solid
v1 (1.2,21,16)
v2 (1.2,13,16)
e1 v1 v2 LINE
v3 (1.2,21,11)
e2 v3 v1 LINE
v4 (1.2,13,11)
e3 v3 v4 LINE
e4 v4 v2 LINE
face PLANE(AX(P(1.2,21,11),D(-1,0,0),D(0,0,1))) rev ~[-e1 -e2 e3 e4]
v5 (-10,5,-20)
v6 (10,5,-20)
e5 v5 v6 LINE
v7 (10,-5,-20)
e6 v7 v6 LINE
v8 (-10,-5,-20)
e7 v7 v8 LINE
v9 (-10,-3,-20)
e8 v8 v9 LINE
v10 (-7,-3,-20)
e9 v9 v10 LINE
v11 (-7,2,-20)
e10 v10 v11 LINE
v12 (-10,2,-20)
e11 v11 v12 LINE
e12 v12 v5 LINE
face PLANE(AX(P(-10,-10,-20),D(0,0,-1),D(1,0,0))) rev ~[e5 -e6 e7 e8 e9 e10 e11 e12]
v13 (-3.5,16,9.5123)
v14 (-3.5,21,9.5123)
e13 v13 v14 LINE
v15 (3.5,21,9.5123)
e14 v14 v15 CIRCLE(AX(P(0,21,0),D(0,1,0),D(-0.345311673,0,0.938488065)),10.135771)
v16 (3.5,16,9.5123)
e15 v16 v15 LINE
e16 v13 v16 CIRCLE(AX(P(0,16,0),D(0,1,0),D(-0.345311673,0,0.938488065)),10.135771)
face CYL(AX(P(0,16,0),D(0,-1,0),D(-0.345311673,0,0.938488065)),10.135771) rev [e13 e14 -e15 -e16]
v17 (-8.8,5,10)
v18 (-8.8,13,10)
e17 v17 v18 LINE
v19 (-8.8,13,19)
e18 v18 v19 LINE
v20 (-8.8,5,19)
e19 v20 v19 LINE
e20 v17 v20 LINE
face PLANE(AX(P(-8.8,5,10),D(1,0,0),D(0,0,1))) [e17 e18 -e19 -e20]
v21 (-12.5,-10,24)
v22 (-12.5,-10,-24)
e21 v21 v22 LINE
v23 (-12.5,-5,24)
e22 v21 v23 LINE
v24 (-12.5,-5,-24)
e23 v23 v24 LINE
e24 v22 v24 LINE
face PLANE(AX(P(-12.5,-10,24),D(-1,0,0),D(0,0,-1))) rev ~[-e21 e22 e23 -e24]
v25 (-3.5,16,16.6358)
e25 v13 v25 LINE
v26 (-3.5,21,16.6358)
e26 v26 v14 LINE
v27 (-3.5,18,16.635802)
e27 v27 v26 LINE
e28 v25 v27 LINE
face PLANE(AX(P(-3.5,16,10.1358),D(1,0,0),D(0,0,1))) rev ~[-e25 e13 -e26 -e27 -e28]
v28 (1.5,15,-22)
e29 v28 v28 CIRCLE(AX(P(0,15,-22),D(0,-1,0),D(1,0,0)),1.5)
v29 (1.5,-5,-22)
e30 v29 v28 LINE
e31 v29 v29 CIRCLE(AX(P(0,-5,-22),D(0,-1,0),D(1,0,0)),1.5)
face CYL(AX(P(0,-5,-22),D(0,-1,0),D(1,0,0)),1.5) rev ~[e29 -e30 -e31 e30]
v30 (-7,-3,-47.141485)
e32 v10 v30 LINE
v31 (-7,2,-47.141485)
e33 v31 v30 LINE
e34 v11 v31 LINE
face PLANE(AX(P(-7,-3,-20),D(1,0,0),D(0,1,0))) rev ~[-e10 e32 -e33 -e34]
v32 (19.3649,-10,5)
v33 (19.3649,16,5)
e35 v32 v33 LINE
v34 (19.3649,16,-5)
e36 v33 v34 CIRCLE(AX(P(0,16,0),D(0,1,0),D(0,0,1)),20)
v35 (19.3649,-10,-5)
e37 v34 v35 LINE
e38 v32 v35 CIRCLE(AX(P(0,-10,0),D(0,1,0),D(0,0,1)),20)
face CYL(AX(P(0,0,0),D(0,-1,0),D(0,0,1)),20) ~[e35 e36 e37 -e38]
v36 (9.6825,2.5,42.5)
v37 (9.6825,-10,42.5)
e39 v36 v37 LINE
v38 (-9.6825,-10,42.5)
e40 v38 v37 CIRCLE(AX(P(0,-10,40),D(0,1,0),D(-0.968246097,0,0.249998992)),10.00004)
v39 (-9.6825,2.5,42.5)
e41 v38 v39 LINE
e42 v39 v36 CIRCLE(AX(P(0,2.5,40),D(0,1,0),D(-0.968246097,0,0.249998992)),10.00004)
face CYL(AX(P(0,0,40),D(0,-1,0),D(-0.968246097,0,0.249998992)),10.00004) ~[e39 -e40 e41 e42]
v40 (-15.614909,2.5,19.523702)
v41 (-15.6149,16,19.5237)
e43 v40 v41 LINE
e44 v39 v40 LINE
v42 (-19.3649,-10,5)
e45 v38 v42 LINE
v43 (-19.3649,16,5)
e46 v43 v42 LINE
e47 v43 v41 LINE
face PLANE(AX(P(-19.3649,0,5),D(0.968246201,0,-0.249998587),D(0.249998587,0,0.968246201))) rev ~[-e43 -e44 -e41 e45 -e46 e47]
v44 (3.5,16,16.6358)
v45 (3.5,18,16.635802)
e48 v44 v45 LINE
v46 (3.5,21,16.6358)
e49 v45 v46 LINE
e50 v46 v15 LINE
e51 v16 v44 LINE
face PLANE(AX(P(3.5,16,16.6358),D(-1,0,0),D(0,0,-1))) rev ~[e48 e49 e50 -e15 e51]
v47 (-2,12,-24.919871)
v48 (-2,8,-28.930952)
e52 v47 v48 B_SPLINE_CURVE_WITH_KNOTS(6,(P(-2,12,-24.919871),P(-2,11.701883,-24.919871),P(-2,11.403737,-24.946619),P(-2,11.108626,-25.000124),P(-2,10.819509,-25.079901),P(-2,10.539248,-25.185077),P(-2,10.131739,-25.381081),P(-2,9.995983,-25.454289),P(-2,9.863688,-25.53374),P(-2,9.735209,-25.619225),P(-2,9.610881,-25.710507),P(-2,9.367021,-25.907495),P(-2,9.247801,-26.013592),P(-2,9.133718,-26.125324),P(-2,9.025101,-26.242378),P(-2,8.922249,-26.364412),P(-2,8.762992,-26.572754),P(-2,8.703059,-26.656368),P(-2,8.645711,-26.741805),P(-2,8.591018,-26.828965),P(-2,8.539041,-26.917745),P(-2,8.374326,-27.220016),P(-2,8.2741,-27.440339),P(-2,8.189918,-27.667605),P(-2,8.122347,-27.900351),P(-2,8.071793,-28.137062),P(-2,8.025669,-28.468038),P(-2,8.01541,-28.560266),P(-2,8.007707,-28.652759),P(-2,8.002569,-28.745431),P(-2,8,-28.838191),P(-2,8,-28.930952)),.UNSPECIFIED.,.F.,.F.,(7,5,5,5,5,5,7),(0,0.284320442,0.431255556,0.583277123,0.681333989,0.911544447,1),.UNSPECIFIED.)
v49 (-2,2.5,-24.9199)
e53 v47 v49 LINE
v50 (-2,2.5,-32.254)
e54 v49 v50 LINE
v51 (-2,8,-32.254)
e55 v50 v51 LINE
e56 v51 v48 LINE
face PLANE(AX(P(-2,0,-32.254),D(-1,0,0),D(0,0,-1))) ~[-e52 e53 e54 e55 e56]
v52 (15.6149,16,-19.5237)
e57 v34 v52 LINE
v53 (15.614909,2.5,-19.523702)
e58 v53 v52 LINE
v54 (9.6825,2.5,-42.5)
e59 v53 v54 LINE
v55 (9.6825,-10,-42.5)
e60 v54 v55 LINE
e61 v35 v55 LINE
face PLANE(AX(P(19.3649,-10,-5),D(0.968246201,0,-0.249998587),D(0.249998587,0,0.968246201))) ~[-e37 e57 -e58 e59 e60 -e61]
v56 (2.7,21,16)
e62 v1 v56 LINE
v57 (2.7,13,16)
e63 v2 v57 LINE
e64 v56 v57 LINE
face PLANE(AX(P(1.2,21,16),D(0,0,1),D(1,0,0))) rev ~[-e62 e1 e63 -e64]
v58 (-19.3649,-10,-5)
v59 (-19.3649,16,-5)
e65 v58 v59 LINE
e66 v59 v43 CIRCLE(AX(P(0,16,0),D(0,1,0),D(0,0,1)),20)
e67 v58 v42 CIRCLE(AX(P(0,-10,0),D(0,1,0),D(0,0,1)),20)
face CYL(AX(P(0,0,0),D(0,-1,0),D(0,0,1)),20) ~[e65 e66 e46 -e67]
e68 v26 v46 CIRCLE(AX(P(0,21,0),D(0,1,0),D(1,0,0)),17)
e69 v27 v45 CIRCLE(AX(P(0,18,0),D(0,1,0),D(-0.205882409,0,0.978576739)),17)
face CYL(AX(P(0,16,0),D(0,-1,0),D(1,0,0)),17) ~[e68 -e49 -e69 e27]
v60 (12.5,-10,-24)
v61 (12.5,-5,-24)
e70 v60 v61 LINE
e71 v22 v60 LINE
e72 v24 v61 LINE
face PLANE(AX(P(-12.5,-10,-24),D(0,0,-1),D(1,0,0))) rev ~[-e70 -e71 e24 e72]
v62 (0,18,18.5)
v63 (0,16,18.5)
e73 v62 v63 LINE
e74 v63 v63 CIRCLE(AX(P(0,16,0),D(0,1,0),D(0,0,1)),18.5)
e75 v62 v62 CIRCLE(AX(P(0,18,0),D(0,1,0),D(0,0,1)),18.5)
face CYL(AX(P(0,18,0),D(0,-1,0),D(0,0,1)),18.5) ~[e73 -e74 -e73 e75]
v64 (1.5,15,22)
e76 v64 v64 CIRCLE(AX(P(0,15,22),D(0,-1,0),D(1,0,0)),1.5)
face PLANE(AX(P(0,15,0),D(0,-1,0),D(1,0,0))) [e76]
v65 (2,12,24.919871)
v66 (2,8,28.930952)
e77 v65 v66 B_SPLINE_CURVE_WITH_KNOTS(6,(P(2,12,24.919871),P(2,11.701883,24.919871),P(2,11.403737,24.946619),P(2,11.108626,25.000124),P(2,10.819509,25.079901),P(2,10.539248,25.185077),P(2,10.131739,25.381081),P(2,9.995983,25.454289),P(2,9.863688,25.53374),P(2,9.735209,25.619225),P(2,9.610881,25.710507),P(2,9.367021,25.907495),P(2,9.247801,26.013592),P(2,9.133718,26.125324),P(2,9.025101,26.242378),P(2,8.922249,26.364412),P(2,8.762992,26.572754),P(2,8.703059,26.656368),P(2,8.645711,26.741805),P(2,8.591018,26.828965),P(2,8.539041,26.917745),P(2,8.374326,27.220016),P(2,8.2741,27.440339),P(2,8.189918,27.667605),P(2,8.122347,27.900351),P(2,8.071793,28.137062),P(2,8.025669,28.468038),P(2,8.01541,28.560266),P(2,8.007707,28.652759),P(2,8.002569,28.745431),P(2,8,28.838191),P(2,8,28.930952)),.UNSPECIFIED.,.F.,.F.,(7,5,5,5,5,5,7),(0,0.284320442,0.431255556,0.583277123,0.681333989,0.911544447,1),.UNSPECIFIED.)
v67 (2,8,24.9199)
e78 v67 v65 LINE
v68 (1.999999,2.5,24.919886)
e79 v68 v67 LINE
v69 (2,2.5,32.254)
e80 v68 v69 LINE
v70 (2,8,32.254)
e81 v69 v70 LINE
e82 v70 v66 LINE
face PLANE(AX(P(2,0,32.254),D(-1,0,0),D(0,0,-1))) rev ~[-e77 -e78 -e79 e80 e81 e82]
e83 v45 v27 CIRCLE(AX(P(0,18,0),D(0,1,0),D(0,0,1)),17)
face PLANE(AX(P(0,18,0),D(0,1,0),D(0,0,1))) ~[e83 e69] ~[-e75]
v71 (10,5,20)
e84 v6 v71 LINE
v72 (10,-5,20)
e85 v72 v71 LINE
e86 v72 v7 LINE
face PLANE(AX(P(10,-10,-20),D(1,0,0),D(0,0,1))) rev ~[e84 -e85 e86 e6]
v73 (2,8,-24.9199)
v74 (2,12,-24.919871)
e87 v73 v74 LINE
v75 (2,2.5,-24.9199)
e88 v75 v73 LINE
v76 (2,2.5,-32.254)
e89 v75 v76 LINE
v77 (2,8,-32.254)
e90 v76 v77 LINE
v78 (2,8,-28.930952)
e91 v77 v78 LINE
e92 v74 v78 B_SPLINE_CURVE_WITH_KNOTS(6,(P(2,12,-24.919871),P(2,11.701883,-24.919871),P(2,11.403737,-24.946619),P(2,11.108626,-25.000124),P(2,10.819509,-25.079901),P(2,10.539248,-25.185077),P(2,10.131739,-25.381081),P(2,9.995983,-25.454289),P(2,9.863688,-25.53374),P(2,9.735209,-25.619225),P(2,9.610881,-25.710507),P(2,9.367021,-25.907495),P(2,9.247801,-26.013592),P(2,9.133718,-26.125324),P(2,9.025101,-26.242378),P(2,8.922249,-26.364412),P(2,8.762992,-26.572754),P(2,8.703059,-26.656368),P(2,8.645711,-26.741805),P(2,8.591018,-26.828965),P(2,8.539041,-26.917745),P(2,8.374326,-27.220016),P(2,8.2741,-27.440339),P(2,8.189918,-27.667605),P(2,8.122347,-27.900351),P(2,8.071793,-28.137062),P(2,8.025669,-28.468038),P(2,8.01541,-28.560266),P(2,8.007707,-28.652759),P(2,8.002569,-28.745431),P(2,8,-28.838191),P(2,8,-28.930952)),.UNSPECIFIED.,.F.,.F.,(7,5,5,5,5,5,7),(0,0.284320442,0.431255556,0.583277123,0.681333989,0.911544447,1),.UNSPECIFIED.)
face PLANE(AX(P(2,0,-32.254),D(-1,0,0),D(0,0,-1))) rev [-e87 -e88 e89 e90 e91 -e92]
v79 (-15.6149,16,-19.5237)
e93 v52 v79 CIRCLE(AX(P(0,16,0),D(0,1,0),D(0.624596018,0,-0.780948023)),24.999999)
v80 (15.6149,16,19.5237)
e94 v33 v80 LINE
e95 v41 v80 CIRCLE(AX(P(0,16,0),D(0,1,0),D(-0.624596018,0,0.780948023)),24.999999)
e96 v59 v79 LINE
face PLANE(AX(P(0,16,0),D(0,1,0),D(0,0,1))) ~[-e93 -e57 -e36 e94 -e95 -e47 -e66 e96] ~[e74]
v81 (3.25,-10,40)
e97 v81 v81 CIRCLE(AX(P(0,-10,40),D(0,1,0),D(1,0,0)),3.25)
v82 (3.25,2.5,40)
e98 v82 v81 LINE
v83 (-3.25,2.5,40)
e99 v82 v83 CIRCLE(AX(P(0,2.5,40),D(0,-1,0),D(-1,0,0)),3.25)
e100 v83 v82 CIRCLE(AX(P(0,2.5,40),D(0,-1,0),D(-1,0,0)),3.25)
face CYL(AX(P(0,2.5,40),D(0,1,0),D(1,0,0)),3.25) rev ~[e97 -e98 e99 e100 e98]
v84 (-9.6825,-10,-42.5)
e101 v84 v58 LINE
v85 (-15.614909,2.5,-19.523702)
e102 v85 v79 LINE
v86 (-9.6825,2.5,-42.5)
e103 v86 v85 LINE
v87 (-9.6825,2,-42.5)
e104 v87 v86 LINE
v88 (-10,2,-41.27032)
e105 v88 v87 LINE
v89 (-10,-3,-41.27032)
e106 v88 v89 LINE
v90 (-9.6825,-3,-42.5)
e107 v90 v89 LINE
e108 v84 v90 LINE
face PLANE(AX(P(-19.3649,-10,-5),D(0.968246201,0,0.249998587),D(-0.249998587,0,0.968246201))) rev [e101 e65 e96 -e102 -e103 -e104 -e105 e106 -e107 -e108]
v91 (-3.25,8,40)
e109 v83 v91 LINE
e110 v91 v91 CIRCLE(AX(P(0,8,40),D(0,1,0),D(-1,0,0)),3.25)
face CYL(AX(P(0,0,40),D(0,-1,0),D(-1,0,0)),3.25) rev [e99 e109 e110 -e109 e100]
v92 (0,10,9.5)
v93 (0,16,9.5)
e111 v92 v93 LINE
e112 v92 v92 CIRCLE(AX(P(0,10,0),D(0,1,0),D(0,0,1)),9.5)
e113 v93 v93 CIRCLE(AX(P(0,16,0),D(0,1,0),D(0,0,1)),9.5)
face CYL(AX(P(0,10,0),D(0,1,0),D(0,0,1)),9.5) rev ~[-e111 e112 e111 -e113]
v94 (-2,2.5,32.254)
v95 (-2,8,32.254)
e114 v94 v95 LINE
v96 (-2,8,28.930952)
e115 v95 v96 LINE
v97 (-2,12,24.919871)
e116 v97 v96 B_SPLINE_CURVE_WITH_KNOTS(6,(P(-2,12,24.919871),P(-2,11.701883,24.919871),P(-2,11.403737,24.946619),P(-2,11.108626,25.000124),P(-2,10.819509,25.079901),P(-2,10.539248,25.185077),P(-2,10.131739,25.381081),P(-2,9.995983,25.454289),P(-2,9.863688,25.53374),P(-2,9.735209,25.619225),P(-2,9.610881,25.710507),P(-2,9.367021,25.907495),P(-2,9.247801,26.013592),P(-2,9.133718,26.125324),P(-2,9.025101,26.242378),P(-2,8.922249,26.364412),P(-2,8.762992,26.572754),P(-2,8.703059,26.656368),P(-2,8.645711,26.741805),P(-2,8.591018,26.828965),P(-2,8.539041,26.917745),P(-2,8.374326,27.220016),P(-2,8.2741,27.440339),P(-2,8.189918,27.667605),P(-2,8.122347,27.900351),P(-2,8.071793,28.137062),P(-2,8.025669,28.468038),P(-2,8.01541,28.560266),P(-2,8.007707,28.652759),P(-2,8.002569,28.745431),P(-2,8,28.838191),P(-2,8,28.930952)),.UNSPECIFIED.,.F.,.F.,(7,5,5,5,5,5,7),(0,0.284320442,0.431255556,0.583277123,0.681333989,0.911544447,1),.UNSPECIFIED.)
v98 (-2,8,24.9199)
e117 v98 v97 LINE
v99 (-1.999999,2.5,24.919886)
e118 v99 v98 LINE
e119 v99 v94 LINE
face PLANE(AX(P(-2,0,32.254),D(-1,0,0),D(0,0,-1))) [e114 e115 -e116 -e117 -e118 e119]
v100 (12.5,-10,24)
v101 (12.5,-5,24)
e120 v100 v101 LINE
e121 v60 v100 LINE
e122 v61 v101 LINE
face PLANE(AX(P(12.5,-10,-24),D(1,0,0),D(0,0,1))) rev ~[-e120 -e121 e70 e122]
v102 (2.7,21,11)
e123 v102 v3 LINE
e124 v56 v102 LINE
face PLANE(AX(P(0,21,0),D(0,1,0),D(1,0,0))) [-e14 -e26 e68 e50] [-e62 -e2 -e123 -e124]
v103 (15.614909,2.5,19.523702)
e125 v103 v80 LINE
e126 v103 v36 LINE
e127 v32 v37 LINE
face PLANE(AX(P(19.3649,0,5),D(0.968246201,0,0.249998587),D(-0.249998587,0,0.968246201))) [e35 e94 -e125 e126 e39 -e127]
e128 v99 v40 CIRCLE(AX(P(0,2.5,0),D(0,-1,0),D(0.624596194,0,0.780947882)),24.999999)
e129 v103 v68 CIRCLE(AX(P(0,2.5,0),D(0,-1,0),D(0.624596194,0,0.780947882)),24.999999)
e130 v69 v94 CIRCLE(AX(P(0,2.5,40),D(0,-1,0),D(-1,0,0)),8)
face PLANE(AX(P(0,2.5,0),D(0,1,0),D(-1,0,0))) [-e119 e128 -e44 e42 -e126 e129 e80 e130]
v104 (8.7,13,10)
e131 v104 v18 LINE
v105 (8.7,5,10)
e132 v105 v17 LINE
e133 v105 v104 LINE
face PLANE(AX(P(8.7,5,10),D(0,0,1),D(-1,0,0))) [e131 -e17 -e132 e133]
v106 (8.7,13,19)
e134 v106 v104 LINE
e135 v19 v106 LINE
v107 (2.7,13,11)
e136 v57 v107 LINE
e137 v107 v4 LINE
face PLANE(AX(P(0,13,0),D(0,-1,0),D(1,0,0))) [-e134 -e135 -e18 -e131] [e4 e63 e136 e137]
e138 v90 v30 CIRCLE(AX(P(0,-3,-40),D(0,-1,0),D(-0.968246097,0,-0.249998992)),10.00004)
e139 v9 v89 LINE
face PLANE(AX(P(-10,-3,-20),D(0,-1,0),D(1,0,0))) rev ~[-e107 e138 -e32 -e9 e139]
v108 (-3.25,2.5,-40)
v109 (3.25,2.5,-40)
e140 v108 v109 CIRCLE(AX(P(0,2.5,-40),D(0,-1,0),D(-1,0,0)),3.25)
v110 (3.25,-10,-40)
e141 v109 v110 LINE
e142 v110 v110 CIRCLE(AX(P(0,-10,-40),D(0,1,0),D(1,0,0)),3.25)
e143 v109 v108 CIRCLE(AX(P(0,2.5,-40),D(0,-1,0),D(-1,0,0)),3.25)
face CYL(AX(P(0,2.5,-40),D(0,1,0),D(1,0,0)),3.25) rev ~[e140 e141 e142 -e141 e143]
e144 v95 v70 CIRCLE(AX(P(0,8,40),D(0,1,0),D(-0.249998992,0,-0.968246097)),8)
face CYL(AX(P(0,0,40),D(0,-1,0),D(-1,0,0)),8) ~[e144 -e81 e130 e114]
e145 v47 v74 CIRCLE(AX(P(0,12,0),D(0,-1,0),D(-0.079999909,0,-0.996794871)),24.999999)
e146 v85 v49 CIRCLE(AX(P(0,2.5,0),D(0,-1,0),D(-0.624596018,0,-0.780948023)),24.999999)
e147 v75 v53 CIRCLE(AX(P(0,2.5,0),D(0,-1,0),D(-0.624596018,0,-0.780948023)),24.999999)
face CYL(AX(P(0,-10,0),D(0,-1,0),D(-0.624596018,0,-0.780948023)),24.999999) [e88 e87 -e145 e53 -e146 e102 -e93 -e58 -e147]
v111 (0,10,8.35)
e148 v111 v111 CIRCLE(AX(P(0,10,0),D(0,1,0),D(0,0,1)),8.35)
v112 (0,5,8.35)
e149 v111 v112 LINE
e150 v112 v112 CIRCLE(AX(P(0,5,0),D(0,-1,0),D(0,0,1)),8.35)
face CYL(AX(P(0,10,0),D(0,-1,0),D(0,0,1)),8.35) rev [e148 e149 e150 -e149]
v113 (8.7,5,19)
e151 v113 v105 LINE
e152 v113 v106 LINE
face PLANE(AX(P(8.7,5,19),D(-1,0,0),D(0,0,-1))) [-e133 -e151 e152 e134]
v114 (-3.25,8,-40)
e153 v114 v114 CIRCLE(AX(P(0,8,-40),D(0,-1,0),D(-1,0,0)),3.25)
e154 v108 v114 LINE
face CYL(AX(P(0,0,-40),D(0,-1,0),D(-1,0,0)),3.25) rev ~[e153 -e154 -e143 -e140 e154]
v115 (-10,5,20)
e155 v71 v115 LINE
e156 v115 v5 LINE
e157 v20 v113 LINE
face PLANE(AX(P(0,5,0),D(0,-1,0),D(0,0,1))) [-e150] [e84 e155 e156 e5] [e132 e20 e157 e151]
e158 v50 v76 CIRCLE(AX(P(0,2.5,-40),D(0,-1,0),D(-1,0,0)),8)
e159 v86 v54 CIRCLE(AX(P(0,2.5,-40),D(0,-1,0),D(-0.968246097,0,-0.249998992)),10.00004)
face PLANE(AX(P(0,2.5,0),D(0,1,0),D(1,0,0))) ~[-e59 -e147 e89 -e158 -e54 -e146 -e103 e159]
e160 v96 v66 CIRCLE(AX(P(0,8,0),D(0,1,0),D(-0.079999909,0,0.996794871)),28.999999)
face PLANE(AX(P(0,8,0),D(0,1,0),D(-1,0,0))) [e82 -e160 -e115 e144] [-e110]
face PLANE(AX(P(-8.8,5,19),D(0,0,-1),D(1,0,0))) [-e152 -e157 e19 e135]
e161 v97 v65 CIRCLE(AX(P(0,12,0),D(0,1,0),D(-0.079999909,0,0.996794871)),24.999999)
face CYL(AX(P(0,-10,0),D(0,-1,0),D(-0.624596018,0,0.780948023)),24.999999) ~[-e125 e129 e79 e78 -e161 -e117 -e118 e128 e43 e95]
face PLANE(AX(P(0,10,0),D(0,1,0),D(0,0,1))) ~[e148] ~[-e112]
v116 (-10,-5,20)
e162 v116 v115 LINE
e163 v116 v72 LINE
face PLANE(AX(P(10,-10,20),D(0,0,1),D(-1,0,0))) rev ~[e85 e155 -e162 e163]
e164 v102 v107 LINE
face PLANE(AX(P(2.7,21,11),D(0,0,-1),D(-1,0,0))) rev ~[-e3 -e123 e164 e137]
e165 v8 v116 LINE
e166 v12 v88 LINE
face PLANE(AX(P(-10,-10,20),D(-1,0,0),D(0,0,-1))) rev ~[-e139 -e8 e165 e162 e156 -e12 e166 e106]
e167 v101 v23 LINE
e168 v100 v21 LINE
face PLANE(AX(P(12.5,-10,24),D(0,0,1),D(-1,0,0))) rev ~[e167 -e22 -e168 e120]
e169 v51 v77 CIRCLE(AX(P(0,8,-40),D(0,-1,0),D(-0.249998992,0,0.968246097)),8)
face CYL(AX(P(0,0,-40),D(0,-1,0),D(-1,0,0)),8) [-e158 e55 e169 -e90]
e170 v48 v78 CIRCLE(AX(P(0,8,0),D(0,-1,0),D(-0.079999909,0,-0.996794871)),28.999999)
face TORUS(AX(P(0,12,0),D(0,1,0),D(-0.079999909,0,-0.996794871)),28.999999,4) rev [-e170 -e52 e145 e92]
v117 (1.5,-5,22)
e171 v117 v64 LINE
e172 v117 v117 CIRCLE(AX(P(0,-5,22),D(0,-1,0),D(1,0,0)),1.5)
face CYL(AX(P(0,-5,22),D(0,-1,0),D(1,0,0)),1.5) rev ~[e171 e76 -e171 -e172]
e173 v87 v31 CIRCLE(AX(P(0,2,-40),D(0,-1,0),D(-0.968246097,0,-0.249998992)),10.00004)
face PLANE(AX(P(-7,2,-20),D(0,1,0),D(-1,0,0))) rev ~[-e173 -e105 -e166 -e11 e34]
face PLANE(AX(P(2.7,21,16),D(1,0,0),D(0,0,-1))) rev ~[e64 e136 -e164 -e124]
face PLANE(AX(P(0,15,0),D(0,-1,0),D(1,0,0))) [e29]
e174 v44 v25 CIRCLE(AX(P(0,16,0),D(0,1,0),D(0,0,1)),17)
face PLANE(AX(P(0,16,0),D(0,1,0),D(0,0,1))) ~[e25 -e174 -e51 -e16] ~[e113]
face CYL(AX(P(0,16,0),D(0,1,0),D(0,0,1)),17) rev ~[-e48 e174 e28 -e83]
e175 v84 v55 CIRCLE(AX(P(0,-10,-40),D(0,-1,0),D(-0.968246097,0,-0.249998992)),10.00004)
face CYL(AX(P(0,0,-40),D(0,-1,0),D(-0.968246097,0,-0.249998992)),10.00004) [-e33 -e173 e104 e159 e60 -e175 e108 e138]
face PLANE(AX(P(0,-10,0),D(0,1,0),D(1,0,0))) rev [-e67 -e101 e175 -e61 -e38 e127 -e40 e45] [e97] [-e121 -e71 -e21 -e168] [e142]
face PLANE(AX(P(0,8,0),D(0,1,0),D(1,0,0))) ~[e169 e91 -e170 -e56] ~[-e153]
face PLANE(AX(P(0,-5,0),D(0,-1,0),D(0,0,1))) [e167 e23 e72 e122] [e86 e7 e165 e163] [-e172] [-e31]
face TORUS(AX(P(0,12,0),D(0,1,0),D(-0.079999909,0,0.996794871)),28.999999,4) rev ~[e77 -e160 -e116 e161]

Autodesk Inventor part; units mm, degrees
ref_plane "YZ Plane" through (0, 0, 0) normal (1, 0, 0) x (0, 1, 0)
ref_plane "XZ Plane" through (0, 0, 0) normal (0, 1, 0) x (-1, 0, 0)
ref_plane "XY Plane" through (0, 0, 0) normal (0, 0, 1) x (1, 0, 0)
sketch "Sketch1" plane through (0, 0, 0) normal (1, 0, 0) x (0, 1, 0)
  line L0 (121, 3) -> (1, 3)
  line L1 (1, 3) -> (1, -3)
  line L2 (1, -3) -> (121, -3)
  line L3 (121, -3) -> (121, 3)
  line L4 (121, 3) -> (1, -3) construction
  line L5 (1, 3) -> (121, -3) construction
  line L6 (10, 8.35) -> (0, 8.35)
  line L7 (0, 8.35) -> (0, 20)
  line L8 (10, 8.35) -> (10, 9.5)
  line L9 (10, 9.5) -> (16, 9.5)
  line L10 (16, 9.5) -> (16, 17)
  line L11 (16, 17) -> (18, 17)
  line L12 (18, 17) -> (18, 18.5)
  line L13 (18, 18.5) -> (16, 18.5)
  line L14 (16, 18.5) -> (16, 20)
  line L15 (16, 20) -> (0, 20)
  line L16 (-36.2, 0) -> (147.2, 0) projected
  line L17 (16, 20) -> (31, 20)
  line L18 (18, 17) -> (31, 17)
  line L19 (75, 9.45) -> (69, 9.45)
  line L20 (69, 9.45) -> (69, 8.35)
  line L21 (69, 8.35) -> (66, 8.35)
  line L22 (75, 9.45) -> (75, 12.45)
  arc A0 (75, 12.45) -> (31, 20) centre (31, -111.9869) ccw
  arc A1 (59.1084, 13.9001) -> (31, 17) centre (31, -111.9869) ccw
  arc A2 (66, 8.35) -> (59.1084, 13.9001) centre (56.9292, 4.1404) ccw
  line L23 (0, 20) -> (-10, 20)
  line L24 (-10, 20) -> (-10, 8.35)
  line L25 (-10, 8.35) -> (0, 8.35)
  line L26 (0, 8.35) -> (0, 20)
  point P0 (0, 0)
  point P1 (61, 0)
  point P2 (61, 0)
  dimension "d0" = 120
  dimension "d1" = 6
  dimension "d5" = 8.35
  dimension "d6" = 9.5
  dimension "d7" = 1.5
  dimension "d8" = 1.5
  dimension "d9" = 20
  dimension "d10" = 6
  dimension "d11" = 2
  dimension "d13" = 10
  dimension "d14" = 1
  dimension "d15" = 6
  dimension "d16" = 3
  dimension "d17" = 9.45
  dimension "d18" = 3
  dimension "d19" = 8.35
  dimension "d20" = 15
  dimension "d21" = 7.5
  dimension "d22" = 75
  dimension "d23" = 10
  dimension "d42" = 10
  dimension "d43" = 8.35
revolve "Revolution1" add sketch "Sketch1" angle 360 about axis through (0, -10, 0) along (0, 1, 0) contours L6 L7 L15 L14 L13 L12 L11 L10 L9 L8 | L25 L24 L23 L7
sketch "Sketch2" plane through (0, 0, 0) normal (0, 1, 0) x (-1, 0, 0)
  circle A0 centre (0, 0) radius 20 projected
  circle A1 centre (0, 40) radius 3.25
  line L0 (28, 0) -> (-28, 0) projected
  line L1 (19.3649, 5) -> (9.6825, 42.5)
  line L2 (-19.3649, 5) -> (-9.6825, 42.5)
  arc A2 (9.6825, 42.5) -> (-9.6825, 42.5) centre (0, 40) ccw
  circle A3 centre (0, 40) radius 8
  arc A4 (15.6149, 19.5237) -> (-15.6149, 19.5237) centre (0, 0) ccw
  line L3 (2, 32.254) -> (2, 24.9199)
  line L4 (-2, 32.254) -> (-2, 24.9199)
  dimension "d25" = 6.5
  dimension "d28" = 10
  dimension "d29" = 16
  dimension "d30" = 5
  dimension "d31" = 40
  dimension "d34" = 4
extrude "Extrusion1" add sketch "Sketch2" along normal blind 2.5 and the other way blind 10 contours A0 L2 A4 L1 | A4 L3 A3 L4 L2 A2 L1 | A4 L4 A3 L3 | A3 | A1
extrude "Extrusion2" add sketch "Sketch2" along normal up to surface (26 mm away) from surface at -10 contours A0 L2 A4 L1
extrude "Extrusion3" add sketch "Sketch2" along normal blind 8 contours A4 L4 A3 L3 | A3
fillet "Fillet1" radius 4 1 edges at (0, 8, 25)
mirror "Mirror1" about plane through (0, 0, 0) normal (0, 0, 1) of "Extrusion2", "Extrusion3", "Fillet1", "Extrusion1"
sketch "Sketch3" plane through (0, -10, 0) normal (0, -1, 0) x (0, 0, 1)
  line L0 (5, -19.3649) -> (42.5, -9.6825) projected
  circle A0 centre (0, 0) radius 8.35 projected
  arc A1 (-5, -19.3649) -> (5, -19.3649) centre (0, 0) ccw projected
  line L1 (5, -19.3649) -> (42.5, -9.6825) projected
  line L2 (42.5, 9.6825) -> (5, 19.3649) projected
  arc A2 (5, 19.3649) -> (-5, 19.3649) centre (0, 0) ccw projected
  line L3 (-42.5, 9.6825) -> (-5, 19.3649) projected
  line L4 (-5, -19.3649) -> (-42.5, -9.6825) projected
  circle A3 centre (0, 0) radius 8.35 projected
  arc A4 (-5, -19.3649) -> (5, -19.3649) centre (0, 0) ccw projected
  line L5 (5, -19.3649) -> (42.5, -9.6825) projected
  line L6 (42.5, 9.6825) -> (5, 19.3649) projected
  arc A5 (5, 19.3649) -> (-5, 19.3649) centre (0, 0) ccw projected
  line L7 (-42.5, 9.6825) -> (-5, 19.3649) projected
  line L8 (-5, -19.3649) -> (-42.5, -9.6825) projected
  line L9 (20, 10) -> (-20, 10)
  line L10 (-20, 10) -> (-20, -10)
  line L11 (-20, -10) -> (20, -10)
  line L12 (20, -10) -> (20, 10)
  arc A6 (42.5, -9.6825) -> (42.5, 9.6825) centre (40, 0) ccw projected
  arc A7 (-42.5, 9.6825) -> (-42.5, -9.6825) centre (-40, 0) ccw projected
  arc A8 (42.5, -9.6825) -> (42.5, 9.6825) centre (40, 0) ccw projected
  arc A9 (-42.5, 9.6825) -> (-42.5, -9.6825) centre (-40, 0) ccw projected
  point P0 (15.6149, 19.5237)
  dimension "d44" = 0
  dimension "d45" = 0
  dimension "d59" = 40
  dimension "d60" = 10
  dimension "d61" = 10
extrude "Extrusion5" cut sketch "Sketch3" against normal blind 15 contours L12 L11 L10 L9
sketch "Sketch4" plane through (0, -10, 0) normal (0, -1, 0) x (0, 0, 1)
  line L0 (-20, -10) -> (-20, 10) projected
  line L1 (-20, 10) -> (20, 10) projected
  line L2 (20, 10) -> (20, -10) projected
  line L3 (20, -10) -> (-20, -10) projected
  arc A0 (-5, -19.3649) -> (5, -19.3649) centre (0, 0) ccw projected
  line L4 (5, -19.3649) -> (42.5, -9.6825) projected
  line L5 (42.5, 9.6825) -> (5, 19.3649) projected
  arc A1 (5, 19.3649) -> (-5, 19.3649) centre (0, 0) ccw projected
  line L6 (-42.5, 9.6825) -> (-5, 19.3649) projected
  line L7 (-5, -19.3649) -> (-42.5, -9.6825) projected
  line L8 (24, 12.5) -> (-24, 12.5)
  line L9 (-24, 12.5) -> (-24, -12.5)
  line L10 (-24, -12.5) -> (24, -12.5)
  line L11 (24, -12.5) -> (24, 12.5)
  arc A2 (42.5, -9.6825) -> (42.5, 9.6825) centre (40, 0) ccw projected
  arc A3 (-42.5, 9.6825) -> (-42.5, -9.6825) centre (-40, 0) ccw projected
  dimension "d51" = 4
  dimension "d52" = 2.5
  dimension "d53" = 4
  dimension "d54" = 2.5
extrude "Extrusion6" cut sketch "Sketch4" against normal blind 5 contours L11 L10 L9 L8
sketch "Sketch6" plane through (0, 16, 0) normal (0, 1, 0) x (1, 0, 0)
  circle A0 centre (0, 0) radius 17 projected
  circle A1 centre (0, 0) radius 9.5 projected
  line L0 (3.5, -16.6358) -> (3.5, -10.1358)
  line L1 (-3.5, -10.1358) -> (-3.5, -16.6358)
  arc A2 (-3.5, -16.6358) -> (3.5, -16.6358) centre (0, 0) ccw
  arc A3 (-3.5, -9.5123) -> (3.5, -9.5123) centre (0, 0) ccw
  line L2 (-3.5, -9.5123) -> (-3.5, -10.1358)
  line L3 (-12.5, 24) -> (-12.5, -24) projected
  line L4 (3.5, -9.5123) -> (3.5, -10.1358)
  dimension "d69" = 3.5
  dimension "d70" = 3.5
  dimension "d75" = 0
  dimension "d76" = 0
  dimension "d77" = 40.402
extrude "Extrusion7" add sketch "Sketch6" along normal blind 5 contours L1 L2 A3 L4 L0 A0
sketch "Sketch7" plane through (0, 21, 0) normal (0, 1, 0) x (1, 0, 0)
  line L0 (1.2, -16) -> (2.7, -16)
  line L1 (2.7, -16) -> (2.7, -11)
  line L2 (2.7, -11) -> (1.2, -11)
  line L3 (1.2, -11) -> (1.2, -16)
  arc A0 (-3.5, -9.5123) -> (3.5, -9.5123) centre (0, 0) ccw projected
  dimension "d79" = 11
  dimension "d80" = 5
  dimension "d81" = 1.5
  dimension "d82" = 1.2
extrude "Extrusion8" cut sketch "Sketch7" against normal up to surface (16 mm away)
sketch "Sketch8" plane through (0, 2.5, 0) normal (0, 1, 0) x (1, 0, 0)
  circle A0 centre (0, -40) radius 3.25 projected
  circle A1 centre (0, 40) radius 3.25 projected
  point P0 (0, 0)
extrude "Extrusion9" cut sketch "Sketch8" against normal up to surface (12.5 mm away)
sketch "Sketch9" plane through (-10, 5, -20) normal (0, 0, 1) x (1, 0, 0)
  point P0 (10, -5)
sketch "Sketch10" plane through (-10, 5, -20) normal (0, 0, 1) x (1, 0, 0)
  line L0 (0, -10) -> (0, 0) projected
  line L1 (0, -8) -> (3, -8)
  line L2 (3, -8) -> (3, -3)
  line L3 (3, -3) -> (0, -3)
  line L4 (0, -3) -> (0, -8)
  line L5 (0, -10) -> (20, -10) projected
  line L6 (20, -10) -> (20, 0) projected
  line L7 (20, 0) -> (0, 0) projected
  line L8 (0, -10) -> (0, 0) projected
  point P0 (10, -5)
  point P1 (0, -2.5)
  dimension "d87" = 2
  dimension "d88" = 5
  dimension "d89" = 3
extrude "Extrusion10" cut sketch "Sketch10" against normal blind 30 contours L0 L3 L2 L1
sketch "Sketch11" plane through (0, -5, 0) normal (0, -1, 0) x (1, 0, 0)
  line L0 (-10, -20) -> (10, -20) projected
  line L1 (10, -20) -> (10, 20) projected
  line L2 (-10, -20) -> (10, -20) projected
  line L3 (-10, 20) -> (-10, -20) projected
  line L4 (10, 20) -> (-10, 20) projected
  line L5 (-12.5, -24) -> (-12.5, 24) projected
  line L6 (12.5, -24) -> (-12.5, -24) projected
  line L7 (12.5, 24) -> (12.5, -24) projected
  line L8 (-12.5, 24) -> (12.5, 24) projected
  circle A0 centre (0, -22) radius 1.5
  circle A1 centre (0, 22) radius 1.5
  point P0 (0, 0)
  dimension "d92" = 3
  dimension "d93" = 3
  dimension "d94" = 22
  dimension "d95" = 22
  dimension "d96" = 0
  dimension "d97" = 0
extrude "Extrusion11" cut sketch "Sketch11" against normal blind 20 contours A0 | A1
sketch "Sketch12" plane through (-19.3649, -10, -5) normal (-0.9682, 0, -0.25) x (-0.25, 0, 0.9682)
  point P0 (0, 10)
sketch "Sketch14" plane through (0, 5, 0) normal (0, -1, 0) x (1, 0, 0)
  line L0 (2.7, 16) -> (2.7, 11) projected
  line L1 (1.2, 11) -> (1.2, 16) projected
  line L2 (2.7, 11) -> (1.2, 11) projected
  line L3 (1.2, 16) -> (2.7, 16) projected
  line L4 (-8.8, 19) -> (8.7, 19)
  line L5 (8.7, 19) -> (8.7, 10)
  line L6 (8.7, 10) -> (-8.8, 10)
  line L7 (-8.8, 10) -> (-8.8, 19)
  line L8 (-10, 20) -> (10, 20) projected
  point P0 (0, 0)
  dimension "d101" = 1
  dimension "d102" = 6
  dimension "d103" = 10
  dimension "d106" = 1
extrude "Extrusion12" cut sketch "Sketch14" against normal blind 8
equation "\"d61\" = d60"
equation "\"d54\" = d52"
equation "\"d70\" = d69"
equation "\"d95\" = d94"
properties part number "Base"
